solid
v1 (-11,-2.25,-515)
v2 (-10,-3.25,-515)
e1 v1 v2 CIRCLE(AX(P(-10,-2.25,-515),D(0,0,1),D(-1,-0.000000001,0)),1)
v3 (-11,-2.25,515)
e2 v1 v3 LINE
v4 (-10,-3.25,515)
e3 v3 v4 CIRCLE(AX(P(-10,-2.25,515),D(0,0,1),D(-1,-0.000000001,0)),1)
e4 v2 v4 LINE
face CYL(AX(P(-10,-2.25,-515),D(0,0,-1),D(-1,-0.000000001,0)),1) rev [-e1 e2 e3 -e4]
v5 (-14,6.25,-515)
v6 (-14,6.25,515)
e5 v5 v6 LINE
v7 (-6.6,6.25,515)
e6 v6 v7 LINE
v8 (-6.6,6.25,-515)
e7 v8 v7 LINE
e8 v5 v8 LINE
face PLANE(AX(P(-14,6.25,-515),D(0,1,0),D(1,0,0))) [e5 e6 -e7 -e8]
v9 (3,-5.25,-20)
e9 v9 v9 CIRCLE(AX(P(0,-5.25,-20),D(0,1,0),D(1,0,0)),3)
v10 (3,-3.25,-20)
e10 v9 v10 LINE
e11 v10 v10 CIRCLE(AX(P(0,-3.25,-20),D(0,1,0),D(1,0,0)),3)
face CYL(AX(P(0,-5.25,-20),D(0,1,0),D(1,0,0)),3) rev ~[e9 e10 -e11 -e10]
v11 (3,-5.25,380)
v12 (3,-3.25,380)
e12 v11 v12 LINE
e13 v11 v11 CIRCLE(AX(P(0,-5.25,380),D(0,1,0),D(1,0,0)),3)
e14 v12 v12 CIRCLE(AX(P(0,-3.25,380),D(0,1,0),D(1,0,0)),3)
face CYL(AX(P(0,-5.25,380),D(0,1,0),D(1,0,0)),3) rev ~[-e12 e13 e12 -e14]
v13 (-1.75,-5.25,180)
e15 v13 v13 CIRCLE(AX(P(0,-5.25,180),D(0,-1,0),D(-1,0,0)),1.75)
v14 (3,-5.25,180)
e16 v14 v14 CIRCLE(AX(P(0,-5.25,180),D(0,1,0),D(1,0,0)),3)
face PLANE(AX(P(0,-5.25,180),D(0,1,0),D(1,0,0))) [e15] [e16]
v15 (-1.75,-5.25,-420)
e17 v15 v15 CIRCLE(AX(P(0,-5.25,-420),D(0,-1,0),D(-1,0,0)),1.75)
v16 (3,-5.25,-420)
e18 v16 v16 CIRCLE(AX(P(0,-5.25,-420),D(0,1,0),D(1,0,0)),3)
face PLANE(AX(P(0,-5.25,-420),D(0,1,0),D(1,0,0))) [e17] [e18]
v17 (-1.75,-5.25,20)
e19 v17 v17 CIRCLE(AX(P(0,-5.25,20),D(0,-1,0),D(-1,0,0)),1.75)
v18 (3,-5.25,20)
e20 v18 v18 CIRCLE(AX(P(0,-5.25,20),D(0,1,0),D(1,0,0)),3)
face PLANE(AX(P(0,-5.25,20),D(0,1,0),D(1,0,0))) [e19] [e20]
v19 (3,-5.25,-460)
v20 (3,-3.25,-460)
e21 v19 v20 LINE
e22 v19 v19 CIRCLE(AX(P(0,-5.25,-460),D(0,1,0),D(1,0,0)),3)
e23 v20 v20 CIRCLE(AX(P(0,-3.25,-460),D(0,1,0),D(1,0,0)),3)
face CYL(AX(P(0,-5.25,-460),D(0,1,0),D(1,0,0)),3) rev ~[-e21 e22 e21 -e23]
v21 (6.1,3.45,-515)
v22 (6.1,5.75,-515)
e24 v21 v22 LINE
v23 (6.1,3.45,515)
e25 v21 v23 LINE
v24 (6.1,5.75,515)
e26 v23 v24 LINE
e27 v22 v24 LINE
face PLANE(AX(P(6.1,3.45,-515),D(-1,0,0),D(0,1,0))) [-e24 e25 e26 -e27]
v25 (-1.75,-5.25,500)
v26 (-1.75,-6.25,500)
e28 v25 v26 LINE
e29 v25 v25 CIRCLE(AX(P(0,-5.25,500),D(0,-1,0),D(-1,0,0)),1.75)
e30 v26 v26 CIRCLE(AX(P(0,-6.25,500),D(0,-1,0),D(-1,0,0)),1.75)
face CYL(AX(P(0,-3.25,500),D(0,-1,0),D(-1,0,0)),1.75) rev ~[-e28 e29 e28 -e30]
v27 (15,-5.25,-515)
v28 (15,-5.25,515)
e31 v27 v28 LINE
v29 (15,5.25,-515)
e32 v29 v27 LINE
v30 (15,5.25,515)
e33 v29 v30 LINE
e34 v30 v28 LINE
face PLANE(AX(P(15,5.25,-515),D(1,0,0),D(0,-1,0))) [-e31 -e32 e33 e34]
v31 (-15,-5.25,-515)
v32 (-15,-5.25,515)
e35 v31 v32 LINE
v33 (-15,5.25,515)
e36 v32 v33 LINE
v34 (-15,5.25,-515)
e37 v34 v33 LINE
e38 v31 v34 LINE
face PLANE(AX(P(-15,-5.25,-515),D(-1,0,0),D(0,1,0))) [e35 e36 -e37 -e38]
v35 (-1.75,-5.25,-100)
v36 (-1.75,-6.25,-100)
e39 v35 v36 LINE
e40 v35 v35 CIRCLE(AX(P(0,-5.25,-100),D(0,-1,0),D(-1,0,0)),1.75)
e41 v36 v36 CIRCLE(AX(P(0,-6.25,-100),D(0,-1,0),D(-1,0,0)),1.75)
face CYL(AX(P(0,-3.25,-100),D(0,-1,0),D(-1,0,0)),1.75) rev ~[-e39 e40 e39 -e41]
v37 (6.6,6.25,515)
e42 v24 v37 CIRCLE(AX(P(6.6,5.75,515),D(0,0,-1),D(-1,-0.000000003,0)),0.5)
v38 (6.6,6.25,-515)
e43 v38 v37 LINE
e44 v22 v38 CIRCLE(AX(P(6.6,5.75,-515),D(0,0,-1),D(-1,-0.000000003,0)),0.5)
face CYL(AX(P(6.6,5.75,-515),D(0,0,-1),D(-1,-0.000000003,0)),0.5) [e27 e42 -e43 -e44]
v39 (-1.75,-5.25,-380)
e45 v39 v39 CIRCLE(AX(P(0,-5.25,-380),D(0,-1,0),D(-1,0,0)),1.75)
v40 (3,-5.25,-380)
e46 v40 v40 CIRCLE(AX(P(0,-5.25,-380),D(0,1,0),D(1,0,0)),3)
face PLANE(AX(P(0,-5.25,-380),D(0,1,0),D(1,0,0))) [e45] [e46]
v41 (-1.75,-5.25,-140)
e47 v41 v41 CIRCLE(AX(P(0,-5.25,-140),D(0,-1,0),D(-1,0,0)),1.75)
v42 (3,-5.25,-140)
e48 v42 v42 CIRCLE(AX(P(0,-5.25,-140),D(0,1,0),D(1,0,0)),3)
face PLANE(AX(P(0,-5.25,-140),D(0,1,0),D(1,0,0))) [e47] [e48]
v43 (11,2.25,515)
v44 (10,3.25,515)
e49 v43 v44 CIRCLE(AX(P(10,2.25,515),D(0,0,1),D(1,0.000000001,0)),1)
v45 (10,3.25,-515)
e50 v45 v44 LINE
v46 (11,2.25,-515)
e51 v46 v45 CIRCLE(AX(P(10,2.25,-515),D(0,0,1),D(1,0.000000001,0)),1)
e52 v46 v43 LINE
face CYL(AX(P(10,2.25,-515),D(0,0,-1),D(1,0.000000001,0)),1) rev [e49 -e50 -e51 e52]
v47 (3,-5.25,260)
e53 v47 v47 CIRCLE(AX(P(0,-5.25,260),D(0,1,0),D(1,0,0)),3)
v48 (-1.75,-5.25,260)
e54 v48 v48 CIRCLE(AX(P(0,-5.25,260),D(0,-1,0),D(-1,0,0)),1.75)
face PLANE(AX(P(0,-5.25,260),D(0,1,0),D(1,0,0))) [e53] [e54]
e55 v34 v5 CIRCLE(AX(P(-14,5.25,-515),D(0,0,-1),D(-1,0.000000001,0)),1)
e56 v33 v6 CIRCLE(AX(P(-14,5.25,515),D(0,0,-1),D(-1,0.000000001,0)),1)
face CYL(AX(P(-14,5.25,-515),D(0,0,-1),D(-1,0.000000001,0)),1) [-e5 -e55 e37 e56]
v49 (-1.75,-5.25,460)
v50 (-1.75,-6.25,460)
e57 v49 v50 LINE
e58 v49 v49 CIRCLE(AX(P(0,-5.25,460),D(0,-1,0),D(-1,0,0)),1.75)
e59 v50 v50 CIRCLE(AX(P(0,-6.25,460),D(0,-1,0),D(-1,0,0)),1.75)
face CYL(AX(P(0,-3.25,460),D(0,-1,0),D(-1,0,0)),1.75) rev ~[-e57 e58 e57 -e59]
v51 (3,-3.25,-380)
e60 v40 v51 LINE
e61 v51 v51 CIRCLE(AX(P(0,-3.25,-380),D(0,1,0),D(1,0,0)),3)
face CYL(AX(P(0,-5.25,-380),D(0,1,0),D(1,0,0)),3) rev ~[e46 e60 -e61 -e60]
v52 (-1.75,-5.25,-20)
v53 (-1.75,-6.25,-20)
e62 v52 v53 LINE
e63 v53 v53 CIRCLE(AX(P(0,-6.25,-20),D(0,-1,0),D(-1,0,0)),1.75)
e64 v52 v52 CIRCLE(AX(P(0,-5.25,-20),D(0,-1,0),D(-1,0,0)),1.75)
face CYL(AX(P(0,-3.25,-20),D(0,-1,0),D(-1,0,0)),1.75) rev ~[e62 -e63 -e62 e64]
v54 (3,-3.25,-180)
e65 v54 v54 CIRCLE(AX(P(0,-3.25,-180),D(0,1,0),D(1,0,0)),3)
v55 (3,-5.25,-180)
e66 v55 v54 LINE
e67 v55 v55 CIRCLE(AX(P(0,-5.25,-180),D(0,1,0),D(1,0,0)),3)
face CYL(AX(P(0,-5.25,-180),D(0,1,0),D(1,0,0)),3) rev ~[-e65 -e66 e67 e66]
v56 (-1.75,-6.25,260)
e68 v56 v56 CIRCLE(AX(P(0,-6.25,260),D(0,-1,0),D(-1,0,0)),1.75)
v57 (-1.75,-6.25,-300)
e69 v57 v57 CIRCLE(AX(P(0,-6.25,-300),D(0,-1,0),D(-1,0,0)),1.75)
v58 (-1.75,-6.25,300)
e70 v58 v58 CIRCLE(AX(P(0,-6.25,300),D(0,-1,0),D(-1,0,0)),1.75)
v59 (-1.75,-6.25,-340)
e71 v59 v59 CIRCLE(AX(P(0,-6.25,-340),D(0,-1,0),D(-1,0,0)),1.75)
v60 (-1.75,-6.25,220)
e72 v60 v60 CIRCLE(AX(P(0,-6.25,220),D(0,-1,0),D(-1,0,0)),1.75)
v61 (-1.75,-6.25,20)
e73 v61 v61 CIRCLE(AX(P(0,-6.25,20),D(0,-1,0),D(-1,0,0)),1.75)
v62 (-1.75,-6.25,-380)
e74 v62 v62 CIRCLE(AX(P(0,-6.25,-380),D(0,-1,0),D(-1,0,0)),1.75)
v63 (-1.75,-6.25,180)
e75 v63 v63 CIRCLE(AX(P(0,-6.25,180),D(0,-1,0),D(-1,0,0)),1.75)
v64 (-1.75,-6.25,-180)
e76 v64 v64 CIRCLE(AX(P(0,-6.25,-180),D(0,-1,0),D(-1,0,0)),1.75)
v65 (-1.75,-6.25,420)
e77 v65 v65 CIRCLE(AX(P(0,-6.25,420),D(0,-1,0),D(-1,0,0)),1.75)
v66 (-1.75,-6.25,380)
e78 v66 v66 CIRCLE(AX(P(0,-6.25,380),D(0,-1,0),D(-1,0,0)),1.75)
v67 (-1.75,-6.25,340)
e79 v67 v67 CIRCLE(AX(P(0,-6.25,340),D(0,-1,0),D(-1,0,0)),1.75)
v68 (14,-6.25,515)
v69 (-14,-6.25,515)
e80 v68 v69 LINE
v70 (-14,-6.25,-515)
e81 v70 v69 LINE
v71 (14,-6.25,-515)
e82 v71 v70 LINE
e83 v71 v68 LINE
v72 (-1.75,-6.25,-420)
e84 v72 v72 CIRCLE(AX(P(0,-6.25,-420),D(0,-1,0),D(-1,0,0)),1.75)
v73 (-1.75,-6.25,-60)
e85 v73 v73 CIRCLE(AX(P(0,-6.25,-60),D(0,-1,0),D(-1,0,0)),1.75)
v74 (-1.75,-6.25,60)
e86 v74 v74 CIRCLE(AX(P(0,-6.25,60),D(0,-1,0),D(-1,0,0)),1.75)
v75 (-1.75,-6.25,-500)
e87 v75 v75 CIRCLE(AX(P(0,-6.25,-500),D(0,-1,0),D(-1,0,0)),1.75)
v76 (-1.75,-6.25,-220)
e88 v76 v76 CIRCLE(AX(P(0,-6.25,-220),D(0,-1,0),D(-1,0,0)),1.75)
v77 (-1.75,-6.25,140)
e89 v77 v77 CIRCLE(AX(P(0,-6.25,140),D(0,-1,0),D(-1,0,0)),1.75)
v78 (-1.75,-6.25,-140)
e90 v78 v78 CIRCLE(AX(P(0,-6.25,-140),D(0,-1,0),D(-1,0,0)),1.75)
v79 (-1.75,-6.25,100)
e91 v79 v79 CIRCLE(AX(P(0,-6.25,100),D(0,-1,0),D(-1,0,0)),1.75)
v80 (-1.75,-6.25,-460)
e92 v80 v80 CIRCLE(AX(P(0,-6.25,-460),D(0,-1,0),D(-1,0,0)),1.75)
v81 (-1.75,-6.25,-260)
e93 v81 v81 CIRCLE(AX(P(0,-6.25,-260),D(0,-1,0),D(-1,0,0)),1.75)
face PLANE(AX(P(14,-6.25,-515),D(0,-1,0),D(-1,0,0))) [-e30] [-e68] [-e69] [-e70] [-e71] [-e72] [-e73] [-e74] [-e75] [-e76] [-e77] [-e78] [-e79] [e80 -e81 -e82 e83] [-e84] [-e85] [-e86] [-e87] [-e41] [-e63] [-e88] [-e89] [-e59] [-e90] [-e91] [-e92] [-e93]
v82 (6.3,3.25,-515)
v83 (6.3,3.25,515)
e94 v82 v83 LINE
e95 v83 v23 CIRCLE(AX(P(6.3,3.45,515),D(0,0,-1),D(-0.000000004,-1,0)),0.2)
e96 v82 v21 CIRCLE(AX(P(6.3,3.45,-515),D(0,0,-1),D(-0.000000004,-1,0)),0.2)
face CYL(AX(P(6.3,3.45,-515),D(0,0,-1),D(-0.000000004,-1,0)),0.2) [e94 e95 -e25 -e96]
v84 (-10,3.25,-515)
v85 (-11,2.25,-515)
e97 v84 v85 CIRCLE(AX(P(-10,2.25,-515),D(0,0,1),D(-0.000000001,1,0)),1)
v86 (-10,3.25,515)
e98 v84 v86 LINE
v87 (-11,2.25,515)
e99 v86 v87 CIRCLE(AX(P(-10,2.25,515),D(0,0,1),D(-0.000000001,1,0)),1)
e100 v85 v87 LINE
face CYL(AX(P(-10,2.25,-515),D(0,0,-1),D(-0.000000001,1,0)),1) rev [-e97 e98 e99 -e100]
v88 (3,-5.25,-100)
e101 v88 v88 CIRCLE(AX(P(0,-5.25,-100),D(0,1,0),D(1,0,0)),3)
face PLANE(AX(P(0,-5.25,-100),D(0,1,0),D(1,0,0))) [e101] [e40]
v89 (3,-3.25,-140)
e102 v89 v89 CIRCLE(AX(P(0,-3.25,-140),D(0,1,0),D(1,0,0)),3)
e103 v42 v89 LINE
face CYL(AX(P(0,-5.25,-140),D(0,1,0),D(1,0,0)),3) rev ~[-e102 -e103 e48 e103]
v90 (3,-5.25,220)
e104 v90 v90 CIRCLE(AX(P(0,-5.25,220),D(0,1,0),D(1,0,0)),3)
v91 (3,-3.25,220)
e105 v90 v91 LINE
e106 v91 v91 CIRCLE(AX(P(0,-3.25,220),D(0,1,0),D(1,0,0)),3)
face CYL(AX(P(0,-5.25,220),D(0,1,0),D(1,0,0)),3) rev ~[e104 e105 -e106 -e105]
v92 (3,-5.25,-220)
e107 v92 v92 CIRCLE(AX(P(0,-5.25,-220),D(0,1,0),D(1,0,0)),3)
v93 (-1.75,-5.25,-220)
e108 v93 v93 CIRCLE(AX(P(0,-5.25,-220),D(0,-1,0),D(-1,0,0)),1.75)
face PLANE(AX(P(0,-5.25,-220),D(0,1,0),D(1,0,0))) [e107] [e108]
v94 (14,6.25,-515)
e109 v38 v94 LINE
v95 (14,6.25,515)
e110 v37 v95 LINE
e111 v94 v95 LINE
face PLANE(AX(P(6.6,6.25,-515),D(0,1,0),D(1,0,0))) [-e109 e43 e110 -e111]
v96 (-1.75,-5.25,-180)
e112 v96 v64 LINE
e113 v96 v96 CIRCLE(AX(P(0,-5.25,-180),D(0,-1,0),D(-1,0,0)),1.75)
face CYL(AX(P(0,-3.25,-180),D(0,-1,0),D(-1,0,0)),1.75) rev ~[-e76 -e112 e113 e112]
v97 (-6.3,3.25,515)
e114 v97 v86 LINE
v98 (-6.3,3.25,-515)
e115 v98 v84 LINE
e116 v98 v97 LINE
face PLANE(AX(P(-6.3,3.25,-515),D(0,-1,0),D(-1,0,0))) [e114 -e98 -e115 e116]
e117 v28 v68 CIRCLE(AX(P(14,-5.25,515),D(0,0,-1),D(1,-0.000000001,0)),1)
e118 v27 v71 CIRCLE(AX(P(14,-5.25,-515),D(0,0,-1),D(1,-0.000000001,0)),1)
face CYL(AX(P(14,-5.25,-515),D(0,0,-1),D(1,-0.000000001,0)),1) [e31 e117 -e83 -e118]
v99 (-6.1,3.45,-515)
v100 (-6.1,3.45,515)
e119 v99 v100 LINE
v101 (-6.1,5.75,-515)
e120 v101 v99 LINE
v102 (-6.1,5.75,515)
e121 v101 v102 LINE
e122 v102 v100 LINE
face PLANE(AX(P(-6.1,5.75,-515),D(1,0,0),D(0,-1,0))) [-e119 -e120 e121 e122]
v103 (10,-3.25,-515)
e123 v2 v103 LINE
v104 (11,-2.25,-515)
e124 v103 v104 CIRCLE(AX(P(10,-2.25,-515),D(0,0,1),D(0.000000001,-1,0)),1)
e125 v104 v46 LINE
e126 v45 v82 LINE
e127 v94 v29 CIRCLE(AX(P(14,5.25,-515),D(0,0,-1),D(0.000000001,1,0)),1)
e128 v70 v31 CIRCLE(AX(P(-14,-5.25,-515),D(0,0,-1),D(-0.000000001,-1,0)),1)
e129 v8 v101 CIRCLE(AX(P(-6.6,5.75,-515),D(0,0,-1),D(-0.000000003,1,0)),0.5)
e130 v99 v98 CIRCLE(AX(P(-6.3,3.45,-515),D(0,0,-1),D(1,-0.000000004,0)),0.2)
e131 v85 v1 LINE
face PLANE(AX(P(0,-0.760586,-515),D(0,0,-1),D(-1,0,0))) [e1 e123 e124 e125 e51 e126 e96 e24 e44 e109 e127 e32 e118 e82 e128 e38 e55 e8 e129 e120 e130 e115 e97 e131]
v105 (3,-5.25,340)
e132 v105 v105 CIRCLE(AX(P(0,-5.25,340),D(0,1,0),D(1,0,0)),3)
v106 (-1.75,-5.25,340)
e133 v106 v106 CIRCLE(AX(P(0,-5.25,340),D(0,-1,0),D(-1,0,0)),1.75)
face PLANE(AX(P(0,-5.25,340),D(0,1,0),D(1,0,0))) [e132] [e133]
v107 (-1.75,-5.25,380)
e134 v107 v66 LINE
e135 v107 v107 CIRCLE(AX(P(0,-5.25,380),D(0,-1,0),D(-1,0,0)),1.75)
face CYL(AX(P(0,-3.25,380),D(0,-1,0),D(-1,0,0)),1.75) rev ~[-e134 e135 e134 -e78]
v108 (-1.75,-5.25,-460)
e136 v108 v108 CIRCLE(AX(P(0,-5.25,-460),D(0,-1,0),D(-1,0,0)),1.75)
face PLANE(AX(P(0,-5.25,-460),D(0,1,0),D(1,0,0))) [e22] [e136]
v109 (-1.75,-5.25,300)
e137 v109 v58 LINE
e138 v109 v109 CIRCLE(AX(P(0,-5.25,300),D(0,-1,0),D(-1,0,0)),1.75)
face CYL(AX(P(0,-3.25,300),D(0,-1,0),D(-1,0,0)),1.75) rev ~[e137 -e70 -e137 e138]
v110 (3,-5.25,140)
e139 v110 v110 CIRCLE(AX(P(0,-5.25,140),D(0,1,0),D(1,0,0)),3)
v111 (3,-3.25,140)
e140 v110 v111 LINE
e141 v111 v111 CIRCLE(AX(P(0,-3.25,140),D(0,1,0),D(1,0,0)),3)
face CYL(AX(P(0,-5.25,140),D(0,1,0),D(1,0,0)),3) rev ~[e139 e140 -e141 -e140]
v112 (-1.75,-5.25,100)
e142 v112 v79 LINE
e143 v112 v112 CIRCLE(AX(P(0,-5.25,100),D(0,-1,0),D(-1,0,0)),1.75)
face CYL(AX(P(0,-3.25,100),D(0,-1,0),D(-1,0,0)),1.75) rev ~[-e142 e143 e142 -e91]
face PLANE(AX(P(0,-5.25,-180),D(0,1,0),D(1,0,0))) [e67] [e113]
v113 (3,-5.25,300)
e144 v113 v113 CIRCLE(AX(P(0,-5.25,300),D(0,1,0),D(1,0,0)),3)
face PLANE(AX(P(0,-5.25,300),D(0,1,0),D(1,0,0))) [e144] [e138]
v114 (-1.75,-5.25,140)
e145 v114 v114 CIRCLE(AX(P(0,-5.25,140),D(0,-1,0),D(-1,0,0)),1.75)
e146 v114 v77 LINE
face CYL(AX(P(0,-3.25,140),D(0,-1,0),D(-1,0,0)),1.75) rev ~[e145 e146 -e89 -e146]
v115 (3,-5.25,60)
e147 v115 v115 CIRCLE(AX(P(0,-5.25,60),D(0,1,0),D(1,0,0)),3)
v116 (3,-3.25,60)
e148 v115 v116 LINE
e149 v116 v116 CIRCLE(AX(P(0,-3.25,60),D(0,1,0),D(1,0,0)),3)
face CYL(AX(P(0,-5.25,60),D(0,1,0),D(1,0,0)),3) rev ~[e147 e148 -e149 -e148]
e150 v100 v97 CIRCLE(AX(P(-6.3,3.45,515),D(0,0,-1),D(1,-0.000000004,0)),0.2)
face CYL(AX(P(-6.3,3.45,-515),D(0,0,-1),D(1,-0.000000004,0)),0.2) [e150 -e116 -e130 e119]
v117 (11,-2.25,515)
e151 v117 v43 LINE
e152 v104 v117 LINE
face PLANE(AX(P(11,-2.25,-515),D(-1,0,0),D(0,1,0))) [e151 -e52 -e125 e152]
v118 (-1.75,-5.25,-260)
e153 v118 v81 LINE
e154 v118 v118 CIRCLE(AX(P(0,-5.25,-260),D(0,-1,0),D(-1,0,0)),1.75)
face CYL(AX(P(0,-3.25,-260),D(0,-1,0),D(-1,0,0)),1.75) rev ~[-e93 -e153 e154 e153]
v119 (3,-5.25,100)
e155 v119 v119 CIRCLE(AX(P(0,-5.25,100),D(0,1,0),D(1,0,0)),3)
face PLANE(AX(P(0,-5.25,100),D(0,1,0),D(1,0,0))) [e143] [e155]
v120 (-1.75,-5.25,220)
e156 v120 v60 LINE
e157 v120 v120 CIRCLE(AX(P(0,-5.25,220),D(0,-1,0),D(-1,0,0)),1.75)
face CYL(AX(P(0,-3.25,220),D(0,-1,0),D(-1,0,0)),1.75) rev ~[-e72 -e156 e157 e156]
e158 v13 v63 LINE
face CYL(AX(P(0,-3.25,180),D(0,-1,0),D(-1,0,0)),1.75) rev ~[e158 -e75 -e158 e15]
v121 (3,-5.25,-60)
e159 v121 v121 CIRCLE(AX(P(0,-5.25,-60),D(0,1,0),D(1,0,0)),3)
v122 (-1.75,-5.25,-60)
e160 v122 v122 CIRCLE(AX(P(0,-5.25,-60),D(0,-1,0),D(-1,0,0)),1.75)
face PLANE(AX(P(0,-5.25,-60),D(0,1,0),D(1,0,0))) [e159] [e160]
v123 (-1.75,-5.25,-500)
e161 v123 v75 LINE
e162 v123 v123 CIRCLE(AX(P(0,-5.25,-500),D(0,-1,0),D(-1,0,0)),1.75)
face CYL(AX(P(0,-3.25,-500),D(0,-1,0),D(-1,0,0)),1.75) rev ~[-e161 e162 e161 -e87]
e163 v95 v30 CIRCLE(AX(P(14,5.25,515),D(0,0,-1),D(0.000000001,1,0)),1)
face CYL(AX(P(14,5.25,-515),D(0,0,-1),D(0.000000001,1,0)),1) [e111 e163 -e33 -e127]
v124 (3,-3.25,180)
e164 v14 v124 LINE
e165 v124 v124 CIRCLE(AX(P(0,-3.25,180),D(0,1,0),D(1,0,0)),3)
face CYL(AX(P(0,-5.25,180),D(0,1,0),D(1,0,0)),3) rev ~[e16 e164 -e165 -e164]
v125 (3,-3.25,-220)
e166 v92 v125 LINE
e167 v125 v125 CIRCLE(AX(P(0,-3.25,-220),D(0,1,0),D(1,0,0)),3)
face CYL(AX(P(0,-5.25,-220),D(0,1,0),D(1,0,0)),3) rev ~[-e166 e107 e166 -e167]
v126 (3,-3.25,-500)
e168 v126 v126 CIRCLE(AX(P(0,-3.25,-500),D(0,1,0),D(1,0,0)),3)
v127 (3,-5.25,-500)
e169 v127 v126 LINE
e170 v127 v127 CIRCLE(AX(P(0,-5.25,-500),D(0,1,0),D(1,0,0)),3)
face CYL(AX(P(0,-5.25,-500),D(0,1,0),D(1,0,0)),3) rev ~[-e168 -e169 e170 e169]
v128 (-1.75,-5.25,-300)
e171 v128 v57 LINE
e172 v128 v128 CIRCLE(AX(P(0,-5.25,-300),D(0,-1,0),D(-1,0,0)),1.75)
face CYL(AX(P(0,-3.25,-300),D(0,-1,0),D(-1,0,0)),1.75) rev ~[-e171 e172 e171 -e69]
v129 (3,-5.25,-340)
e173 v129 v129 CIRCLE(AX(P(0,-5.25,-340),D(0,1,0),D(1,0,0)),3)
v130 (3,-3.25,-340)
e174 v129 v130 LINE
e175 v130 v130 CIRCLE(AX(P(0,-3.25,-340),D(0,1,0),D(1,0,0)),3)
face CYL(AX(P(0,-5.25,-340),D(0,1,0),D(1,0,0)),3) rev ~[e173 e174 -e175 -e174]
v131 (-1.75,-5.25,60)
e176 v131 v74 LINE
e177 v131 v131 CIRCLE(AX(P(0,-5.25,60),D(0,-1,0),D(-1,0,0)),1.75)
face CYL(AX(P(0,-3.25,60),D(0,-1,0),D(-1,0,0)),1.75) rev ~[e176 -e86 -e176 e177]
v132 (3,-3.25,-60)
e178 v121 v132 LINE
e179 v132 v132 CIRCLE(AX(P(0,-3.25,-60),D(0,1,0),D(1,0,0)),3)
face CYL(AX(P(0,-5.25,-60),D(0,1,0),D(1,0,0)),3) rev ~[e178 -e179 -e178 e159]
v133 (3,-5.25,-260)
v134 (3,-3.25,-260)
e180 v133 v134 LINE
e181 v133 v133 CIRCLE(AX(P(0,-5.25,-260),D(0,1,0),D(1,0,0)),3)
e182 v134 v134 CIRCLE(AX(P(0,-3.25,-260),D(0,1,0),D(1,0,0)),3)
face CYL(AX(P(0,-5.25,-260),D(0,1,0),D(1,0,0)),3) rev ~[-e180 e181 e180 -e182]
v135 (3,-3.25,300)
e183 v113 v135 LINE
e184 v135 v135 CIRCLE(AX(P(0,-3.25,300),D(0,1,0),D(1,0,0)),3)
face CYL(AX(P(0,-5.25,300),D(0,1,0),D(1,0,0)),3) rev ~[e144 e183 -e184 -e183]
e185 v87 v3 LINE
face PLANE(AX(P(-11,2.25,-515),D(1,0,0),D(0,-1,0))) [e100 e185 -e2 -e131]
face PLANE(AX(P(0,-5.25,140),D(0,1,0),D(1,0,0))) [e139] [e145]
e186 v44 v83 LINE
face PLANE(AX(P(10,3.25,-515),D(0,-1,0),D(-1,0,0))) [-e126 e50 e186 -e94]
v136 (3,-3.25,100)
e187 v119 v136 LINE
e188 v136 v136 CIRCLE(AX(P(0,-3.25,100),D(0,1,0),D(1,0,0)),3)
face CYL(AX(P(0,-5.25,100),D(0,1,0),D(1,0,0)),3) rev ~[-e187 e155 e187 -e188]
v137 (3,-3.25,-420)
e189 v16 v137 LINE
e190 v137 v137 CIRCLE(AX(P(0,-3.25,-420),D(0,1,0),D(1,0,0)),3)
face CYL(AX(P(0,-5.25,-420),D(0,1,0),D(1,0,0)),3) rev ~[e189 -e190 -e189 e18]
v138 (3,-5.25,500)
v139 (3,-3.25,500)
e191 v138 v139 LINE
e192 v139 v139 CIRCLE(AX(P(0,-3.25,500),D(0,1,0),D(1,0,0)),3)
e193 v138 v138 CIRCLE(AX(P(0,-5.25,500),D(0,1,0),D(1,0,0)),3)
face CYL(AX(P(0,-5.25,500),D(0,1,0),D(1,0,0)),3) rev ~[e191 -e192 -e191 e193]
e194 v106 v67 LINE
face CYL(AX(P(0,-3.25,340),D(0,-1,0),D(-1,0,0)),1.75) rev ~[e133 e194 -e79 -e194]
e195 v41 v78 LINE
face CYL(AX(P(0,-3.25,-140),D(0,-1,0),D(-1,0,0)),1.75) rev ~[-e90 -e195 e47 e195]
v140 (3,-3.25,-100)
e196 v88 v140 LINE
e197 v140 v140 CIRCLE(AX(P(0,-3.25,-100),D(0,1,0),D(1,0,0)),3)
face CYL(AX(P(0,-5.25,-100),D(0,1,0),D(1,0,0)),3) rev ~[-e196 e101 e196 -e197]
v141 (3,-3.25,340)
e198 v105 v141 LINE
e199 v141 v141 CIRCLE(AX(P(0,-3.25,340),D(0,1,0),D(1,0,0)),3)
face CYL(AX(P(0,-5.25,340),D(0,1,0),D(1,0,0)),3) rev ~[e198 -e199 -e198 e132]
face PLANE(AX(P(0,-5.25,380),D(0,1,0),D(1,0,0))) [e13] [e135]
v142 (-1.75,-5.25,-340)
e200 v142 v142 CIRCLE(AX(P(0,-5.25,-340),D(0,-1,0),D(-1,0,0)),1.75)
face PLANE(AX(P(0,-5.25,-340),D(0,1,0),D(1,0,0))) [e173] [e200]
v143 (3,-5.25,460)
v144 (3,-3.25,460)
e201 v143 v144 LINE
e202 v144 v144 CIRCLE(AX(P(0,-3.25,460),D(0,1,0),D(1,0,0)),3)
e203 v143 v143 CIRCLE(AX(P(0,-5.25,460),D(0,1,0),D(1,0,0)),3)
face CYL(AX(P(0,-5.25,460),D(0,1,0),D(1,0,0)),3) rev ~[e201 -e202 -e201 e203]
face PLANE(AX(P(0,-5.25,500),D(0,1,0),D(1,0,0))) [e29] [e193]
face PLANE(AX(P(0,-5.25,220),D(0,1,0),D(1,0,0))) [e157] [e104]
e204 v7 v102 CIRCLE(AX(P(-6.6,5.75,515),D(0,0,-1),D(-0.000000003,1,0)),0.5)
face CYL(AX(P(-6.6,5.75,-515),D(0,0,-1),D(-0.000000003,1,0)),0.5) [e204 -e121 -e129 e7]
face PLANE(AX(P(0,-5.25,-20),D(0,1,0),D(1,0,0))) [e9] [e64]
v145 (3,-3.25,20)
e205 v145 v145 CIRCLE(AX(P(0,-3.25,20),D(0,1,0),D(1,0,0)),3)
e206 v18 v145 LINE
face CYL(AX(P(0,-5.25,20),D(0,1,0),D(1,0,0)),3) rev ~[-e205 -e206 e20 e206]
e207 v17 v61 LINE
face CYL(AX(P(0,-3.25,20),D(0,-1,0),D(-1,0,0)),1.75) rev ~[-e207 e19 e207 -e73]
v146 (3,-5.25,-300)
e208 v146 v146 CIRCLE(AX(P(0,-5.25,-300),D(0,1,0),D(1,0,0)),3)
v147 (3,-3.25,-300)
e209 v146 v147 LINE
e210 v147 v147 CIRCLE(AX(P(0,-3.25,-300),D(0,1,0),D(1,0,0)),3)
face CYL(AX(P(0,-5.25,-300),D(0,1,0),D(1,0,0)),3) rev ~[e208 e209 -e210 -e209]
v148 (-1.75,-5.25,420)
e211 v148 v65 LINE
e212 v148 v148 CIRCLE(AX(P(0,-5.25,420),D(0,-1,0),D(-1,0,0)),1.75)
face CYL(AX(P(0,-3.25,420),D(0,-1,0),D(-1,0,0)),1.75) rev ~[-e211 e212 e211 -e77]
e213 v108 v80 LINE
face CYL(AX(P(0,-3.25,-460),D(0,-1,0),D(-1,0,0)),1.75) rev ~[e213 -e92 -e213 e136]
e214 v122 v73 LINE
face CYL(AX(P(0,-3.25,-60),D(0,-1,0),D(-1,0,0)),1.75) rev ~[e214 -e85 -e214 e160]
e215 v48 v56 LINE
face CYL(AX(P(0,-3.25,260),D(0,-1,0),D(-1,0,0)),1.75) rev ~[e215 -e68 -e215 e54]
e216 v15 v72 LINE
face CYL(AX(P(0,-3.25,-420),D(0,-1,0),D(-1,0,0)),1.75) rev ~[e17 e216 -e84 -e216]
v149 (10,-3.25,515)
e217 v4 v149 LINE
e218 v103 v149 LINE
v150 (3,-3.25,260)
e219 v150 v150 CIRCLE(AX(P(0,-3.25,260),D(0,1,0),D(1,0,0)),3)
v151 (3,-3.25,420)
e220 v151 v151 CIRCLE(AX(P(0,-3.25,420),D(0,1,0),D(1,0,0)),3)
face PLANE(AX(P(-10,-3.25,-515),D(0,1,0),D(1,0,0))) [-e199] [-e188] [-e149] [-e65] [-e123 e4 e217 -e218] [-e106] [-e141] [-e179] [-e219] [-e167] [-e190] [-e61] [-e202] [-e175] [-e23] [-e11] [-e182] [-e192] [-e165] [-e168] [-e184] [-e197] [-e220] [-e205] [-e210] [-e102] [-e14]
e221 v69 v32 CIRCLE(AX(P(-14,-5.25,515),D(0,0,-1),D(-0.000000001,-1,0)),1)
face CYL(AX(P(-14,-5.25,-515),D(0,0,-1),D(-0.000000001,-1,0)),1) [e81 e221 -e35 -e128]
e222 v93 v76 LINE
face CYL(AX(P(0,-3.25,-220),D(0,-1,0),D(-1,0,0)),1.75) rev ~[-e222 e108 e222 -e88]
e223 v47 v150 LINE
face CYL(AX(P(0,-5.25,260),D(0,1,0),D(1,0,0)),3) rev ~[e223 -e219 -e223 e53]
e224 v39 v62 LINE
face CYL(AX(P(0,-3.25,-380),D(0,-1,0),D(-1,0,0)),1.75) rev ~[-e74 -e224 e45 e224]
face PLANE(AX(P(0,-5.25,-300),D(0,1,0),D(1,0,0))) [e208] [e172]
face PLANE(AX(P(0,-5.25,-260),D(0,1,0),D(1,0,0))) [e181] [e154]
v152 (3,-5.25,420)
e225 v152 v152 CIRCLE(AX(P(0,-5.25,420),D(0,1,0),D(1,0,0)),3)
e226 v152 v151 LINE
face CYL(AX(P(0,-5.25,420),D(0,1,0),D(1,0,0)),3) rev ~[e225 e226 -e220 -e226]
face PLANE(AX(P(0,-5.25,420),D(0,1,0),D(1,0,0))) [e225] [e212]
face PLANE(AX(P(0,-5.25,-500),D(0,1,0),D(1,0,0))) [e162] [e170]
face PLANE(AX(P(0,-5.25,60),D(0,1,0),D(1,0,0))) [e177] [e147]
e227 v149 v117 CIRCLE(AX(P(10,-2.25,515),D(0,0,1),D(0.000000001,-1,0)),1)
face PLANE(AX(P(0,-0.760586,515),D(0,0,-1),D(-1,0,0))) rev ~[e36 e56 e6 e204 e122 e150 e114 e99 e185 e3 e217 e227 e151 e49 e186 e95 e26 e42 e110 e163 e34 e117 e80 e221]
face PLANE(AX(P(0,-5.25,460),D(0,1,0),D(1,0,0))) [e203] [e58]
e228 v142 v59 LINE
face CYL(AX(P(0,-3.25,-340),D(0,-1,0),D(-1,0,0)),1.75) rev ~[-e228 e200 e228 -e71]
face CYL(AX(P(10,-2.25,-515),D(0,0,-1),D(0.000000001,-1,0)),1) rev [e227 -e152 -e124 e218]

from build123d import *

# Parameters (mm, degrees)
EXTRUDE_1_DEPTH              = 1030
HOLE_WIZARD_M3_1_D           = 3.5
HOLE_WIZARD_M3_1_DEPTH       = 3
HOLE_WIZARD_M3_1_CBORE_D     = 6
HOLE_WIZARD_M3_1_CBORE_DEPTH = 2


with BuildPart() as part:
    # 草图1 → 凸台-拉伸1 (new body)
    with BuildSketch(Plane(origin=(0, 0, -515), x_dir=(-1, 0, 0), z_dir=(0, 0, -1))):
        with BuildLine():
            Line((15, -5.25), (15, 5.25))
            ThreePointArc((15, 5.25), (14.707106781, 5.957106781), (14, 6.25))
            Line((14, 6.25), (6.6, 6.25))
            ThreePointArc((6.6, 6.25), (6.246446609, 6.103553391), (6.1, 5.75))
            Line((6.1, 5.75), (6.1, 3.45))
            ThreePointArc((6.1, 3.45), (6.158578644, 3.308578644), (6.3, 3.25))
            Line((6.3, 3.25), (10, 3.25))
            ThreePointArc((10, 3.25), (10.707106781, 2.957106781), (11, 2.25))
            Line((11, 2.25), (11, -2.25))
            ThreePointArc((11, -2.25), (10.707106781, -2.957106781), (10, -3.25))
            Line((10, -3.25), (-10, -3.25))
            ThreePointArc((-10, -3.25), (-10.707106781, -2.957106781), (-11, -2.25))
            Line((-11, -2.25), (-11, 2.25))
            ThreePointArc((-11, 2.25), (-10.707106781, 2.957106781), (-10, 3.25))
            Line((-10, 3.25), (-6.3, 3.25))
            ThreePointArc((-6.3, 3.25), (-6.158578644, 3.308578644), (-6.1, 3.45))
            Line((-6.1, 3.45), (-6.1, 5.75))
            ThreePointArc((-6.1, 5.75), (-6.246446609, 6.103553391), (-6.6, 6.25))
            Line((-6.6, 6.25), (-14, 6.25))
            ThreePointArc((-14, 6.25), (-14.707106781, 5.957106781), (-15, 5.25))
            Line((-15, 5.25), (-15, -5.25))
            ThreePointArc((-15, -5.25), (-14.707106781, -5.957106781), (-14, -6.25))
            Line((-14, -6.25), (14, -6.25))
            ThreePointArc((14, -6.25), (14.707106781, -5.957106781), (15, -5.25))
        make_face()
    extrude(amount=-EXTRUDE_1_DEPTH)

    # M3 六角头机械螺钉的柱形沉头孔1
    with Locations(Plane(origin=(0, -3.25, 0), x_dir=(1, 0, 0), z_dir=(0, 1, 0))):
        with Locations((0, -500), (0, -460), (0, -420), (0, -380), (0, -340), (0, -300), (0, -260), (0, -220), (0, -180), (0, -140), (0, 20), (0, 60), (0, 100), (0, 140), (0, 180), (0, 220), (0, 260), (0, 300), (0, 340), (0, 380), (0, 420), (0, 460), (0, 500), (0, -100), (0, -60), (0, -20)):
            CounterBoreHole(HOLE_WIZARD_M3_1_D / 2, HOLE_WIZARD_M3_1_CBORE_D / 2, HOLE_WIZARD_M3_1_CBORE_DEPTH, depth=HOLE_WIZARD_M3_1_DEPTH)


solid = part.part
